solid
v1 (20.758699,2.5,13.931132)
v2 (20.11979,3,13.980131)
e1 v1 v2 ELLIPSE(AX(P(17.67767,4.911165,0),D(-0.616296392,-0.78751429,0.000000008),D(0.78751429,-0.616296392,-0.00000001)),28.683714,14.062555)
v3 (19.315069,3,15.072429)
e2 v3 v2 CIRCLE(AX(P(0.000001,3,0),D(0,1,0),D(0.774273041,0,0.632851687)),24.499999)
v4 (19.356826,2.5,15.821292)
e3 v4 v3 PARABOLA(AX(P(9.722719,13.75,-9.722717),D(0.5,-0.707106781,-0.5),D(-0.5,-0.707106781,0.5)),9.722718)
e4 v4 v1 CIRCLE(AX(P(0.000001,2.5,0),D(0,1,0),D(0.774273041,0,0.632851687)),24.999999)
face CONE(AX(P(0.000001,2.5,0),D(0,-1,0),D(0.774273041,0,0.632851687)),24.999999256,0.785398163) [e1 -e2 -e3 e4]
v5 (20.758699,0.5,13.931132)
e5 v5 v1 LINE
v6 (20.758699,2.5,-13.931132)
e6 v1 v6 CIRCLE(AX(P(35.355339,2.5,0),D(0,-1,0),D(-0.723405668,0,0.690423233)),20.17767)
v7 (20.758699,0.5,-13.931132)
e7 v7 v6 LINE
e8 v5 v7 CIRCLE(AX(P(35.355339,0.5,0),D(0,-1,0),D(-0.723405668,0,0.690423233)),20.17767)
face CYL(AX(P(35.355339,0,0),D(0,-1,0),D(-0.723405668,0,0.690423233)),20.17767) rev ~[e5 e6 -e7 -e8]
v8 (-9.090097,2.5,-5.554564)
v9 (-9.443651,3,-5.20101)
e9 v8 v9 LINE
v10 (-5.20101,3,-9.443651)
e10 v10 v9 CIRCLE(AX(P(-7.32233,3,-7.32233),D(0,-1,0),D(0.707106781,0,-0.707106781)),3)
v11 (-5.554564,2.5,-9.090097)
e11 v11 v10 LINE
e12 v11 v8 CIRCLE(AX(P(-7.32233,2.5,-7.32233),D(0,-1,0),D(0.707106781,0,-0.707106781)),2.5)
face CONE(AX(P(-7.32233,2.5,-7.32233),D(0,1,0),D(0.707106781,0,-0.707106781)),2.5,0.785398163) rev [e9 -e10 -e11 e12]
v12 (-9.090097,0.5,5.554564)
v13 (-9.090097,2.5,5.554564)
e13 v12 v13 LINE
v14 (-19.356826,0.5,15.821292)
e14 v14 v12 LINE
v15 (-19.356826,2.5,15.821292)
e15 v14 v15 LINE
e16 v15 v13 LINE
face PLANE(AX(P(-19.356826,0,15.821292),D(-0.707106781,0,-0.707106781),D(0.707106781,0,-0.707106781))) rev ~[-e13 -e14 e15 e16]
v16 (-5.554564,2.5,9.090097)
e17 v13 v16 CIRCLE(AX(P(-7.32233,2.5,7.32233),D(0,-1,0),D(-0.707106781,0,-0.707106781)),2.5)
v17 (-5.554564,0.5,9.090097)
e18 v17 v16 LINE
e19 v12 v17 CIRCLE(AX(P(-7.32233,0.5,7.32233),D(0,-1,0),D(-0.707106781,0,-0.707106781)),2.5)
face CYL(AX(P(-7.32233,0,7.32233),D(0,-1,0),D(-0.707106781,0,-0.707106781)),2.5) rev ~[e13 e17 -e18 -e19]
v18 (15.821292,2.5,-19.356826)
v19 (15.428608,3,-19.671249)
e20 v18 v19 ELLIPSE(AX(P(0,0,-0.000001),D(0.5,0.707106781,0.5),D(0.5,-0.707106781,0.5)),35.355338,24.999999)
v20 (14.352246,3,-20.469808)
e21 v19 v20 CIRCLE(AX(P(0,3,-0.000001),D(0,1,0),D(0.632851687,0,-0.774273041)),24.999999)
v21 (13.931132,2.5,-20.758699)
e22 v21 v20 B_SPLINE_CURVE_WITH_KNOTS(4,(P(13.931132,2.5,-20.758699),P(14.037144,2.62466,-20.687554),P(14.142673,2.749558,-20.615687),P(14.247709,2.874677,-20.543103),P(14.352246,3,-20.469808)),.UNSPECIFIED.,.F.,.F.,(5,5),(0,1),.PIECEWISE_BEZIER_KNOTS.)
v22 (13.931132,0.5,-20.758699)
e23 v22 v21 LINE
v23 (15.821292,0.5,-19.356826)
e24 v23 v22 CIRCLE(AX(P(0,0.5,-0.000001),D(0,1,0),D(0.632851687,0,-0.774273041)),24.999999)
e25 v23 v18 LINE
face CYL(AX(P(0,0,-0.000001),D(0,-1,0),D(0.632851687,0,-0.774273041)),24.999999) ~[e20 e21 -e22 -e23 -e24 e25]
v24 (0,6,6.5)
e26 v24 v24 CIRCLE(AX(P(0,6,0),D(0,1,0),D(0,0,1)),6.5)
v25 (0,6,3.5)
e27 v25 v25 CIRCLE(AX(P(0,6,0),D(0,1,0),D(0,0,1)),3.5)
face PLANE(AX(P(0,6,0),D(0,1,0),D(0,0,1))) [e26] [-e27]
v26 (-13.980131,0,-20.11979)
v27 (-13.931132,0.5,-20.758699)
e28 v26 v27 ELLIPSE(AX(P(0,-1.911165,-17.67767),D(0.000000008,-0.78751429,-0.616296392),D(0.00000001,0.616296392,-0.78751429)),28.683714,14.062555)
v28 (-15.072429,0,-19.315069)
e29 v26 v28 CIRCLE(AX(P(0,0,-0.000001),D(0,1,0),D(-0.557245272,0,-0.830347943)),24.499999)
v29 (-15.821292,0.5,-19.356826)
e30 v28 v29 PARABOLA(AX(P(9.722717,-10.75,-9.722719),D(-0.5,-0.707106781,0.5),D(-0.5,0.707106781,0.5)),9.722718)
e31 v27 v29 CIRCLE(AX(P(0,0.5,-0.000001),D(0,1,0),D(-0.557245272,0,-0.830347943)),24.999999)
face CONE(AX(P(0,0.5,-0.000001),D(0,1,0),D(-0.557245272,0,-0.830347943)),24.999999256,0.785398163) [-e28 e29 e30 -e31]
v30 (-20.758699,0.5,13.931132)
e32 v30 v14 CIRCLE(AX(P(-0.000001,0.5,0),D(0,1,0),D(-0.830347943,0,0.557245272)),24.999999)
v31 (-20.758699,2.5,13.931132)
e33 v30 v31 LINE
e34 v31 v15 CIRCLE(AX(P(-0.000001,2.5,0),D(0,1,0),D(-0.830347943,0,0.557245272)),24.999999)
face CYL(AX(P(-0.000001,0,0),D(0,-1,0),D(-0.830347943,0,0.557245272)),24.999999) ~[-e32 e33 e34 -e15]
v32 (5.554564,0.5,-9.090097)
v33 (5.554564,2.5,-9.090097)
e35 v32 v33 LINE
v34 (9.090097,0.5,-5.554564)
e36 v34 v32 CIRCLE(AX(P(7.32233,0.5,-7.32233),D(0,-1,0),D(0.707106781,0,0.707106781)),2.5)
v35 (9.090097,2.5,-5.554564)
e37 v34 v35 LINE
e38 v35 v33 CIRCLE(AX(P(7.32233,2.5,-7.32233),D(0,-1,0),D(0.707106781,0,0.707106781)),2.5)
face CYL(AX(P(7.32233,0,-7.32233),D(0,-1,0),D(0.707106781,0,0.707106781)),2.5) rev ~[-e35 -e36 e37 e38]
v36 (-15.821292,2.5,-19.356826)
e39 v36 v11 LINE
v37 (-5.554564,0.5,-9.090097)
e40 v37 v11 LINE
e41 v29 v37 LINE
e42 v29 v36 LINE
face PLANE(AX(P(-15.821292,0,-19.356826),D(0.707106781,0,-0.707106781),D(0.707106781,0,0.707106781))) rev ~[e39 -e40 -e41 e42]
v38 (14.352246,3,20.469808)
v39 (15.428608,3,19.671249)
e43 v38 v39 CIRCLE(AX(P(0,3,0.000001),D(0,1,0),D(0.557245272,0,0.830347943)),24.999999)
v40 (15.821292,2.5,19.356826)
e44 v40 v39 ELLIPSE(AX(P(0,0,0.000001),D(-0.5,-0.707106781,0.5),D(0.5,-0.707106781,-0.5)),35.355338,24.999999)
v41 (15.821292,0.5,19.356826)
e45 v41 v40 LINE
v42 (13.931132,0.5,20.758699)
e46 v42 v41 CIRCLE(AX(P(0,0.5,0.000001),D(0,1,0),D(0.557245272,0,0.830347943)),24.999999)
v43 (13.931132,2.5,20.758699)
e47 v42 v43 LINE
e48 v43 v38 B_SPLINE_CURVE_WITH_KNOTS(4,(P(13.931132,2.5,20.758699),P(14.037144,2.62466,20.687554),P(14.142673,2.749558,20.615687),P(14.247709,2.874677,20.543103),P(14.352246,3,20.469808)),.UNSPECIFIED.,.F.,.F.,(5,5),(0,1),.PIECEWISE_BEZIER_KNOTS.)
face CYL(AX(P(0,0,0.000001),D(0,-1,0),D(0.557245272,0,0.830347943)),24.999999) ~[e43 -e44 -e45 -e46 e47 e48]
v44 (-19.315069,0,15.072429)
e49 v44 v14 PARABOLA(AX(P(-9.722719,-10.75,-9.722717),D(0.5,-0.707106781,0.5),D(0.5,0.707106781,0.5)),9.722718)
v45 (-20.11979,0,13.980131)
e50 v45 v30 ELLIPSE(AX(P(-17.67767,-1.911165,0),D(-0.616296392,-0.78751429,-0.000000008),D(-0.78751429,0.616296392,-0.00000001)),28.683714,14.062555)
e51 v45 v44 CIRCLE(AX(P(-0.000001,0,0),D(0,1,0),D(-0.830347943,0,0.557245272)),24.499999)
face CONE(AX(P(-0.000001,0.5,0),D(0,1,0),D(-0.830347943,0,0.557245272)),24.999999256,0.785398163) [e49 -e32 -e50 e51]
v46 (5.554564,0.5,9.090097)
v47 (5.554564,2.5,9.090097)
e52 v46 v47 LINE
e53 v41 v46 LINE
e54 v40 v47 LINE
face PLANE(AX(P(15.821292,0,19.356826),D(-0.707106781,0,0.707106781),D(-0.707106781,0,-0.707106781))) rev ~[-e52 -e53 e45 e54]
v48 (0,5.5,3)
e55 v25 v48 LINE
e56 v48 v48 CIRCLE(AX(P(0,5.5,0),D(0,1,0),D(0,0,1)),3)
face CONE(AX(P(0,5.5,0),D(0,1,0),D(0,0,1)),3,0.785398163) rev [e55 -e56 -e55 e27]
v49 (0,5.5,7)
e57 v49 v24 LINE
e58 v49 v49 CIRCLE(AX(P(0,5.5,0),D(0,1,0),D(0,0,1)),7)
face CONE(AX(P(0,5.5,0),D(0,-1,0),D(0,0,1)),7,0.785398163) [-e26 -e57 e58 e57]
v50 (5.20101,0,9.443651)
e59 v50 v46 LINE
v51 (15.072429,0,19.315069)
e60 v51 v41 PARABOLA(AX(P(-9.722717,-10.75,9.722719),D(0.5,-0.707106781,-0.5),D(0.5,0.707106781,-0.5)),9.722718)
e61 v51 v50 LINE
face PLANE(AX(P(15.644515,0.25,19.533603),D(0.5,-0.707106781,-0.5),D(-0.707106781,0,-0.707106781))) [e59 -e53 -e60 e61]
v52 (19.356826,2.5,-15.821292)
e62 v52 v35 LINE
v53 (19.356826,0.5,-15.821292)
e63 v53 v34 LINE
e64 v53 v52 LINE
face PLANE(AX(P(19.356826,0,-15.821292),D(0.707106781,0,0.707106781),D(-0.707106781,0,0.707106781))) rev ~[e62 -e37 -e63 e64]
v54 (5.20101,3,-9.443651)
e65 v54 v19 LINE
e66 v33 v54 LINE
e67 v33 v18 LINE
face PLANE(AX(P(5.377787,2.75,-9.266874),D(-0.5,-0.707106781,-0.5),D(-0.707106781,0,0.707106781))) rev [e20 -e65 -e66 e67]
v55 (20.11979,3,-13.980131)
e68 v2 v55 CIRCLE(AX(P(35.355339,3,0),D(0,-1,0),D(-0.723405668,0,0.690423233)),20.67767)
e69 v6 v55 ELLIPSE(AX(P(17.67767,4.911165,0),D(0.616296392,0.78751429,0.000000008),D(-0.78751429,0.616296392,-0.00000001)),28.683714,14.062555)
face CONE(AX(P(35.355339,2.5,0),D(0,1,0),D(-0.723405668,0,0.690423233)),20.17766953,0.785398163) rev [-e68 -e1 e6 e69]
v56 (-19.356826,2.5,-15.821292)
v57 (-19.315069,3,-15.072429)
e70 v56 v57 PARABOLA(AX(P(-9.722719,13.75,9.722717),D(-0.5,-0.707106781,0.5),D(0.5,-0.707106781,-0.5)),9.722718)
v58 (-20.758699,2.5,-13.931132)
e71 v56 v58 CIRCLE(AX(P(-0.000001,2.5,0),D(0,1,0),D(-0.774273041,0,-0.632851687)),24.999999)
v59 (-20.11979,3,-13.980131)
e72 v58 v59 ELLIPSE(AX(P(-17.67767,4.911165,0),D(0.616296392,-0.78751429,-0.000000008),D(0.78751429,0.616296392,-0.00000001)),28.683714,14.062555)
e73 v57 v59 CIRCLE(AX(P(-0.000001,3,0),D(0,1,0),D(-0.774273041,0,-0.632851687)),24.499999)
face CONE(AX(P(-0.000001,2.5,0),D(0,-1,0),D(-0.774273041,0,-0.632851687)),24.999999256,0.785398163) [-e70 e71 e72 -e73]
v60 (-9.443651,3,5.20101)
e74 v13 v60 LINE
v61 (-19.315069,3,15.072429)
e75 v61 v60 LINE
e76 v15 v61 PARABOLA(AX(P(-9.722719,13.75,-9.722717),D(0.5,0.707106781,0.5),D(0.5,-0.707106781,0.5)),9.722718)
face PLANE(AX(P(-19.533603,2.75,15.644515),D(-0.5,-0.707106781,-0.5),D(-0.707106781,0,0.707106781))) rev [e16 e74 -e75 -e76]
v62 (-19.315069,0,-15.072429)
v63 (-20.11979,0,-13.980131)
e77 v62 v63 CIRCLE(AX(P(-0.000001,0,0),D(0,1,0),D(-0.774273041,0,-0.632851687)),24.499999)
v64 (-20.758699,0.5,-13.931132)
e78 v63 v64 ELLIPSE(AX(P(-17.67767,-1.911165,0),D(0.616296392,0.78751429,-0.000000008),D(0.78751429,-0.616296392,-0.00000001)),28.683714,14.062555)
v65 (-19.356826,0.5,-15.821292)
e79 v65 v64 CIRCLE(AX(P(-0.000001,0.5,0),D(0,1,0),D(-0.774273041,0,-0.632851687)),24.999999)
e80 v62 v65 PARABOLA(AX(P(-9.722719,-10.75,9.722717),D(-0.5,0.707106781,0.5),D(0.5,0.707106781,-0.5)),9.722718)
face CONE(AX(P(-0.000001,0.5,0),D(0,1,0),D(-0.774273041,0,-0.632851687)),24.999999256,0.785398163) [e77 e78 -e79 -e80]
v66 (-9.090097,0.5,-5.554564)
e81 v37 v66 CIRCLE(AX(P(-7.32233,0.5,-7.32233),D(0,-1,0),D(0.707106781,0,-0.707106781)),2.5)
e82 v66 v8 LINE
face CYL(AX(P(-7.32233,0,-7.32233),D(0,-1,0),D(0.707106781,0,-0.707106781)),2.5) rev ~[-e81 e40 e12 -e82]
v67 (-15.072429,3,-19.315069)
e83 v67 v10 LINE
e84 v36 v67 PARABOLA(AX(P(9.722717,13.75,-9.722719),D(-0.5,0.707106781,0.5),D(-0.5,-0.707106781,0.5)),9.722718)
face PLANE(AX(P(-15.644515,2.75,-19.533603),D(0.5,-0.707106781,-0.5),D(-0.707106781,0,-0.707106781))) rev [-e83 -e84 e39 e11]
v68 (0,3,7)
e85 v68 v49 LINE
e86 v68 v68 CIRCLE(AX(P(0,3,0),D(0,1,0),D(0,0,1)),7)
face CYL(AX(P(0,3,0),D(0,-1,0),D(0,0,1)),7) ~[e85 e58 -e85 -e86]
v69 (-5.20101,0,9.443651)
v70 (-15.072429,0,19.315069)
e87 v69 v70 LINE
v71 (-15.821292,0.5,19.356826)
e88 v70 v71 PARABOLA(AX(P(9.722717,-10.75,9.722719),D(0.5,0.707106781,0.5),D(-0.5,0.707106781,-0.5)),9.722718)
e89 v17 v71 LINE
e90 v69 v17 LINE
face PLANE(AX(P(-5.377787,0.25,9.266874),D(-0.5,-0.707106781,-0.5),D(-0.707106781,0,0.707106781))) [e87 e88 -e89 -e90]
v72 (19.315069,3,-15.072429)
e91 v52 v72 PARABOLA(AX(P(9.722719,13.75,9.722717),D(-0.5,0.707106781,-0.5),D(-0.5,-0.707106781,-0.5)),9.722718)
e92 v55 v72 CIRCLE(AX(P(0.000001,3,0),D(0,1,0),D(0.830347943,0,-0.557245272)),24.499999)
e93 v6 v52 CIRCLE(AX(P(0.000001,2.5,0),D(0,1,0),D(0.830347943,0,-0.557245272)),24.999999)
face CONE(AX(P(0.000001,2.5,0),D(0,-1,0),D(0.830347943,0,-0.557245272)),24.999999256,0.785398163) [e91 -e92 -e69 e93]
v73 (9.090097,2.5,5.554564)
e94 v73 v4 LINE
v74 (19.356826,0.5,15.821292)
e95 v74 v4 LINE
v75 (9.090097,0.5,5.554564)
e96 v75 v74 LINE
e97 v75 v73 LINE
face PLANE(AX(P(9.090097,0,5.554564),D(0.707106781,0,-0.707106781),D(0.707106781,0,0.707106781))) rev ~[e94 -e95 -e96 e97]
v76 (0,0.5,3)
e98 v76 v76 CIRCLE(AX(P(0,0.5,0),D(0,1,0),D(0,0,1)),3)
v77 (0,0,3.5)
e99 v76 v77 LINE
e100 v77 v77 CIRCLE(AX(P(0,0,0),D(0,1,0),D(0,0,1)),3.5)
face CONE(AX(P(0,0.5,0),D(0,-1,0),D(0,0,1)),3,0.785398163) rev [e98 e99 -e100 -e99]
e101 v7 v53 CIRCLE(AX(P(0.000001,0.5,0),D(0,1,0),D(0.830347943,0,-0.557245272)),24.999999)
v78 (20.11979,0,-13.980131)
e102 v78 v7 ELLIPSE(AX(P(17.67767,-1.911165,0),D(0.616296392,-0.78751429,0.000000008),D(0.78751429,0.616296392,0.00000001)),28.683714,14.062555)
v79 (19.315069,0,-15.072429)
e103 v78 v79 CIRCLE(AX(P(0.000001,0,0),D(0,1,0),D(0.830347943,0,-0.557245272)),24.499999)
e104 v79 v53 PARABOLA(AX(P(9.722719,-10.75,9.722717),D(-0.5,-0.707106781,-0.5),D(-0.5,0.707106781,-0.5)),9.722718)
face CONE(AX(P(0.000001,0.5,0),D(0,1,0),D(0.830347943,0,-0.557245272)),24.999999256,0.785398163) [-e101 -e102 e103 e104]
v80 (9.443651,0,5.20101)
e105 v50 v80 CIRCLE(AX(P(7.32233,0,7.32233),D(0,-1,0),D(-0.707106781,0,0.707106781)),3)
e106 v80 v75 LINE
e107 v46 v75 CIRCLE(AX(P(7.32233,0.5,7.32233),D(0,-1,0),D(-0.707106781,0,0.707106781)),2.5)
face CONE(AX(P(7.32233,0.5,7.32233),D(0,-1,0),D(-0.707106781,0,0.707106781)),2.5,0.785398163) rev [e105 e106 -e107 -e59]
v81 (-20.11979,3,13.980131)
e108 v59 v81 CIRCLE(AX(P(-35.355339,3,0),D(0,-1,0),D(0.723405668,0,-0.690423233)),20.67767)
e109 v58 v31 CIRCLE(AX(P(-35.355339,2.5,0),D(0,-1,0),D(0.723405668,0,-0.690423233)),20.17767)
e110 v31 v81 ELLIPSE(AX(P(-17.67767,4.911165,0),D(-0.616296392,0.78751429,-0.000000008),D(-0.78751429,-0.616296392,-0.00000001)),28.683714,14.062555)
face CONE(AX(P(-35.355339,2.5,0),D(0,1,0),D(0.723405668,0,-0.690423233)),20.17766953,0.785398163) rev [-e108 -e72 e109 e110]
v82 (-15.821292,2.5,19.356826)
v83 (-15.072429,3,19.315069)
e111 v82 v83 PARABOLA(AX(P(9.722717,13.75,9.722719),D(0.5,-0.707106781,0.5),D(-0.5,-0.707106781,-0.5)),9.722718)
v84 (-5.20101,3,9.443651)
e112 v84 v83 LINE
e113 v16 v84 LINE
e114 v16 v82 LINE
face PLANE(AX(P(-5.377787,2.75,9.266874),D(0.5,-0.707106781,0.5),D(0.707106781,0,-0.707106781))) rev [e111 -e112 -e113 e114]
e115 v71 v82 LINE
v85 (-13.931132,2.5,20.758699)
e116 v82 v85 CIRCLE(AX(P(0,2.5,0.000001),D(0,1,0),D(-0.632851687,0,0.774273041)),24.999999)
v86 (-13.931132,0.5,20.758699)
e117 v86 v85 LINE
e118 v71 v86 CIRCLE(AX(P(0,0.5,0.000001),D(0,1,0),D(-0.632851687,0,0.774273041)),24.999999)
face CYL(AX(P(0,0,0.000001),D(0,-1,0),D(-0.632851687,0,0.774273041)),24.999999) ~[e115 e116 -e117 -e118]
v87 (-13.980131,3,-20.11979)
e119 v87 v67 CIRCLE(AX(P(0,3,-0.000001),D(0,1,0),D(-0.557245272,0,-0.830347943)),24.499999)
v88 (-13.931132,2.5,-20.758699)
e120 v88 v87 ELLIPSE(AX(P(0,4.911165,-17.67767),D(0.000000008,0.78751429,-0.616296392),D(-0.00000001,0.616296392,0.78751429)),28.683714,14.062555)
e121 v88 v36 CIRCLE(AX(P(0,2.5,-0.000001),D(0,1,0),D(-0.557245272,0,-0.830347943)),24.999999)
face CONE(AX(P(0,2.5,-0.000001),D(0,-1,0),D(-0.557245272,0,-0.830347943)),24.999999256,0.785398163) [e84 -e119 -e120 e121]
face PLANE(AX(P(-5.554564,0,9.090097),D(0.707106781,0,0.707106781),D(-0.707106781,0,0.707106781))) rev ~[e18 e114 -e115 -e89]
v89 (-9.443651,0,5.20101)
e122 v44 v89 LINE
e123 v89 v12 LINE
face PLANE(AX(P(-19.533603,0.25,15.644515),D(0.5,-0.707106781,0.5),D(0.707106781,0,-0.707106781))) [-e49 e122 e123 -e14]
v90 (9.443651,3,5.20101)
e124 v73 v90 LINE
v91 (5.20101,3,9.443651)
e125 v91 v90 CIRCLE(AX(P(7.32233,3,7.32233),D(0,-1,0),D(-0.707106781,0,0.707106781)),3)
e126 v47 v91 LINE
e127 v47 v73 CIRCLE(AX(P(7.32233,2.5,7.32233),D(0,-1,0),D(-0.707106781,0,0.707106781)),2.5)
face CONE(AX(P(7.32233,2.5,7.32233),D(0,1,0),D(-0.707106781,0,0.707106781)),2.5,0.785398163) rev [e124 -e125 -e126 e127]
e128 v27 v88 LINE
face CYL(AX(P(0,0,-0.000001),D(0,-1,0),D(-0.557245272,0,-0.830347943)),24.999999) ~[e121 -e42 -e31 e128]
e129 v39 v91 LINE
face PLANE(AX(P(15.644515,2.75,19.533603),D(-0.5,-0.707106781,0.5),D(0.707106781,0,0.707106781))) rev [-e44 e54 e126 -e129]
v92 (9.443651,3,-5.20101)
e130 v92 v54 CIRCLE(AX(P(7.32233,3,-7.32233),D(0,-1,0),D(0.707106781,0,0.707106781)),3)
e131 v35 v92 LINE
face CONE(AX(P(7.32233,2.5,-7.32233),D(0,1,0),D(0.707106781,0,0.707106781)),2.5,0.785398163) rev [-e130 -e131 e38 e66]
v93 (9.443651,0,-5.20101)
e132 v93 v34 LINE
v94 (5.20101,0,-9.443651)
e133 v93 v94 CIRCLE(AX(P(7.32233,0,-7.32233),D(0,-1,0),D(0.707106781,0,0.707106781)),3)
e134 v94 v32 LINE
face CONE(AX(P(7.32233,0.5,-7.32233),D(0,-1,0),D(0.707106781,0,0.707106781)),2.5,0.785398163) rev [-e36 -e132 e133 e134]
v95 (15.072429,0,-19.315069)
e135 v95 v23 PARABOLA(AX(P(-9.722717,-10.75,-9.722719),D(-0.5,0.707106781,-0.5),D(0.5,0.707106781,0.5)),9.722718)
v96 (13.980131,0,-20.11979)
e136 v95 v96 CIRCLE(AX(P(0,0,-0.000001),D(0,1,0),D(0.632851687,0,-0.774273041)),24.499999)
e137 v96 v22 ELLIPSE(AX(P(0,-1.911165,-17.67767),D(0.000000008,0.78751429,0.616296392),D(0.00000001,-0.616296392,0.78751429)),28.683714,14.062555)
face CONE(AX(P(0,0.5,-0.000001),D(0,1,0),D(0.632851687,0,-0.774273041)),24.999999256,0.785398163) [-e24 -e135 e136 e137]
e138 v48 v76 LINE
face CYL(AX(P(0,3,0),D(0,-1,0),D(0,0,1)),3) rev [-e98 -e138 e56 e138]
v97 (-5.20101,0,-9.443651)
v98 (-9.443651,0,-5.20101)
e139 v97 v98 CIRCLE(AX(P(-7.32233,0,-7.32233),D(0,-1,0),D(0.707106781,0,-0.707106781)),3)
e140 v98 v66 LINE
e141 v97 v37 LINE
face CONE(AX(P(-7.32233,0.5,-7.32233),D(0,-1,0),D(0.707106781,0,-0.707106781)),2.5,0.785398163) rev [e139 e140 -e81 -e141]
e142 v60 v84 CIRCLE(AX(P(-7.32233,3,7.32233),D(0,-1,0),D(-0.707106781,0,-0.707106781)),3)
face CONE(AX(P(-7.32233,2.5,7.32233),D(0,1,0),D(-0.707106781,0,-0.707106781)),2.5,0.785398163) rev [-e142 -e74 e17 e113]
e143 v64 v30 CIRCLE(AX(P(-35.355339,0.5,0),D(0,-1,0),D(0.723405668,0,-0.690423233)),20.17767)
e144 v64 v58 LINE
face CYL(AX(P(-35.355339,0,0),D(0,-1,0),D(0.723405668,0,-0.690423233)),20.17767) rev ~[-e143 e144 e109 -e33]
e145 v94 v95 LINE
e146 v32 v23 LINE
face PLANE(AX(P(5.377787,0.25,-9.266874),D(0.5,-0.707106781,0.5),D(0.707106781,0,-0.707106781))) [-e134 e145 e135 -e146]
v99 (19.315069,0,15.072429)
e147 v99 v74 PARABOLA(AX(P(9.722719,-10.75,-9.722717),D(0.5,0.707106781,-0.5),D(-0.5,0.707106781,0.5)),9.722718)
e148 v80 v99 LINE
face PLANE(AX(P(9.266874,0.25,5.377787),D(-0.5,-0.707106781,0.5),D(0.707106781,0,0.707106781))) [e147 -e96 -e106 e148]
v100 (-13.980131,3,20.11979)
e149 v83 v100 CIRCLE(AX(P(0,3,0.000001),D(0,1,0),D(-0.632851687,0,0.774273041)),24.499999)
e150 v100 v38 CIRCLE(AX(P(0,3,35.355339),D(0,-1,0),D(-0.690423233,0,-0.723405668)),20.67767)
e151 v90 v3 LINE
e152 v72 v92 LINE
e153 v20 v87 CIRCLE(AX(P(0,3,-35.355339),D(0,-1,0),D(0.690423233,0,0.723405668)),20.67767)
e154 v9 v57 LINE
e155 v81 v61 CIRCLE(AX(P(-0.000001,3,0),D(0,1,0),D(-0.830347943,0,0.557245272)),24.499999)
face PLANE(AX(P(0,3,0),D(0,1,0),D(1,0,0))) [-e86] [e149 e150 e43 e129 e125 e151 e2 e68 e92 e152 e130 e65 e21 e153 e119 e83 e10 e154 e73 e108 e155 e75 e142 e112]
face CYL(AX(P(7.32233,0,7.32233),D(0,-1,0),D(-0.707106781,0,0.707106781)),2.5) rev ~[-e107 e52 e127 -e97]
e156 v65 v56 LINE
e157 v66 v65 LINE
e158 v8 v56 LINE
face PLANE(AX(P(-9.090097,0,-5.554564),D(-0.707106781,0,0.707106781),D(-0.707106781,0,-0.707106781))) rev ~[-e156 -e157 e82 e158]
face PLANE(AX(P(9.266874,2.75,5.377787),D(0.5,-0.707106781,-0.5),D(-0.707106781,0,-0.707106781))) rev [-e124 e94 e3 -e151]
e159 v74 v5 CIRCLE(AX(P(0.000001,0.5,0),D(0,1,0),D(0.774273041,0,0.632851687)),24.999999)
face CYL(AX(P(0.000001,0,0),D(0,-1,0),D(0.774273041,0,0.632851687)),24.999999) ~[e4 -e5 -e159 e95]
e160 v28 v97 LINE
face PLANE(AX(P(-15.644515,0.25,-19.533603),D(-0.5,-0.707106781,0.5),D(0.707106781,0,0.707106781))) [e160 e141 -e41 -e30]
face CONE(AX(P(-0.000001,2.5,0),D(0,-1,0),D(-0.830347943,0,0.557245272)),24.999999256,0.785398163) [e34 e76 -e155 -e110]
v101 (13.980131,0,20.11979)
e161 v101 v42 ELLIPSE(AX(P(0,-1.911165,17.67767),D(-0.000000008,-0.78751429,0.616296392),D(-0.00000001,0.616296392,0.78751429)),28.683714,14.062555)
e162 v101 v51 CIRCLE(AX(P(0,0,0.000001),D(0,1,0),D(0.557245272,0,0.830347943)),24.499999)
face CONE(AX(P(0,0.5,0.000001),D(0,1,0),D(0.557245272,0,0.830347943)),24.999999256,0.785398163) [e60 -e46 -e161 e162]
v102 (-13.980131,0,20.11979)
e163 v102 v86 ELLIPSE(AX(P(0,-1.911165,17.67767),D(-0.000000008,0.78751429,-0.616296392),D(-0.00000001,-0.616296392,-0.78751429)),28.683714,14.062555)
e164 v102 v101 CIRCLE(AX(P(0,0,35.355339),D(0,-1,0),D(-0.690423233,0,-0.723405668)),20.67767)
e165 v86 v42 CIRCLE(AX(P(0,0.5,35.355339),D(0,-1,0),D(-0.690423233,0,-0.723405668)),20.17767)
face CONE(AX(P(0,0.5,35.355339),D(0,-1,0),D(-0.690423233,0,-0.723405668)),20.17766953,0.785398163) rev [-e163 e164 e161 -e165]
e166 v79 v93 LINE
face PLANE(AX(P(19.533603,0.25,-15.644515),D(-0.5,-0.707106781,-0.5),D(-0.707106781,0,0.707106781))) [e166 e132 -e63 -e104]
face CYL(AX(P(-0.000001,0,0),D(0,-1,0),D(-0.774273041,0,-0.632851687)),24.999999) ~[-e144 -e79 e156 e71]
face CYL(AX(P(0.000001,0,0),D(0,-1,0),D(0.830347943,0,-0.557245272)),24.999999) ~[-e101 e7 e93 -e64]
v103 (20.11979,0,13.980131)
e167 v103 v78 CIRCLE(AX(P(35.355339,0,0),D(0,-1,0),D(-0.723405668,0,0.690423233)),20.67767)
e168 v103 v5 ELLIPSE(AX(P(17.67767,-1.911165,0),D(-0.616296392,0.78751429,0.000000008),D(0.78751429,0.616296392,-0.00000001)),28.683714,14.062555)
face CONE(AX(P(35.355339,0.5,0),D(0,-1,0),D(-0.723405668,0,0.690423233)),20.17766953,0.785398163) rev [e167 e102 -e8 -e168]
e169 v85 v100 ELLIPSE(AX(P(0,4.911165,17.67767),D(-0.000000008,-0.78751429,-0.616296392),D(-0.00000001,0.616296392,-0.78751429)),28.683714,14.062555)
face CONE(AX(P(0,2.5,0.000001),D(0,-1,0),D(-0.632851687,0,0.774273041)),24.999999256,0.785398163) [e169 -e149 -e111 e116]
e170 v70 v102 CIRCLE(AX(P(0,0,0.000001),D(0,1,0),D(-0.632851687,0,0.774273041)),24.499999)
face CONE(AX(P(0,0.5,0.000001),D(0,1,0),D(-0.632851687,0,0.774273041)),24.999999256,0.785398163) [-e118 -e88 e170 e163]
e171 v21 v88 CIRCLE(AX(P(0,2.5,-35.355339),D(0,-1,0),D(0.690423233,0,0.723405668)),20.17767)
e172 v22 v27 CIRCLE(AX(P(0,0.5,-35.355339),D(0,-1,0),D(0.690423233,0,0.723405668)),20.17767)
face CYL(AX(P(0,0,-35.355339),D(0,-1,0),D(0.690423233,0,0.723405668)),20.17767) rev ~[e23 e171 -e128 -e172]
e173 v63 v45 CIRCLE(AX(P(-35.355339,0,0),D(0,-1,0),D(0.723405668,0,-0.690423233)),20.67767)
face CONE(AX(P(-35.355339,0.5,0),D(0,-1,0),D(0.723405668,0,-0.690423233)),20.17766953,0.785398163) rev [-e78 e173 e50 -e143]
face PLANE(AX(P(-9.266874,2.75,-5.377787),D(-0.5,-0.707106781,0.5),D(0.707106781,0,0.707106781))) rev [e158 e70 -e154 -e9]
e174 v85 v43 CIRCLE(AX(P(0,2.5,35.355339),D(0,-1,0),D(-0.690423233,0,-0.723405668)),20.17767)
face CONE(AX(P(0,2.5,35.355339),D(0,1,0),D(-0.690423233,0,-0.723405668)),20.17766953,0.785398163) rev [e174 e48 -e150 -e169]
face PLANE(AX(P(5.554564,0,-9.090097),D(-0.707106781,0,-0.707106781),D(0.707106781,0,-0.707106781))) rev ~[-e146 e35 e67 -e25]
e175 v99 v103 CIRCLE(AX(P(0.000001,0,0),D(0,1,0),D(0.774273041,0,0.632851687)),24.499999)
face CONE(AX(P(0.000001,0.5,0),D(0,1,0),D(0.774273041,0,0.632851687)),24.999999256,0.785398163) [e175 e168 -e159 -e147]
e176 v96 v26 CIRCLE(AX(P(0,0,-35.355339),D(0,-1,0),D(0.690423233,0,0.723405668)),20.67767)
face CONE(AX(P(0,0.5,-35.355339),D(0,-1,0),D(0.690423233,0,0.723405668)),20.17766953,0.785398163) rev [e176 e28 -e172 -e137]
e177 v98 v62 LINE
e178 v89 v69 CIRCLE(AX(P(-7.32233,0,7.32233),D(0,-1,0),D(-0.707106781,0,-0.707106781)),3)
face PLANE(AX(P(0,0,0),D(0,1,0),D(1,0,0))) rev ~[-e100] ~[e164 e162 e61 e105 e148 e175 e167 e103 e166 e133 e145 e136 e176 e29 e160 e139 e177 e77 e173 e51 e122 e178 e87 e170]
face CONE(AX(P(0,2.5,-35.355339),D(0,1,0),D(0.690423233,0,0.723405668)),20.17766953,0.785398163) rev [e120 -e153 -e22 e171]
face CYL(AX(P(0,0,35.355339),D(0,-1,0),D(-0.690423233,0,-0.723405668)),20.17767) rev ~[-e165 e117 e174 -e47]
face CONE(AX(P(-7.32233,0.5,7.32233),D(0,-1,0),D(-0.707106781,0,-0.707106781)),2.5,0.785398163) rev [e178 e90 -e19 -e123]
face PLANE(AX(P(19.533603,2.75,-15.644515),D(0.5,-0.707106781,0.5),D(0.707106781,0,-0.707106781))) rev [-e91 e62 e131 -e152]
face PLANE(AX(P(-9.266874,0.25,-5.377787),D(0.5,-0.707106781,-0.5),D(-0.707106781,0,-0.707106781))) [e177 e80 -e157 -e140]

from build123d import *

# Parameters (mm, degrees)
SKETCH1_R           = 3
BOSS_EXTRUDE1_DEPTH = 3
SKETCH2_R           = 7
SKETCH2_R_2         = 3
BOSS_EXTRUDE2_DEPTH = 3
CHAMFER1_SIZE       = 0.5


with BuildPart() as part:
    # Sketch1 → Boss-Extrude1 (new body)
    with BuildSketch(Plane(origin=(0, 0, 0), x_dir=(1, 0, 0), z_dir=(0, 1, 0))):
        with BuildLine():
            ThreePointArc((9.090097423, 5.554563517), (5.554563517, 5.554563517), (5.554563517, 9.090097423))
            Line((5.554563517, 9.090097423), (15.821292146, 19.356826052))
            ThreePointArc((15.821292146, 19.356826052), (14.892716162, 20.080015073), (13.931131824, 20.758698564))
            ThreePointArc((13.931131824, 20.758698564), (0, 15.17766953), (-13.931131824, 20.758698564))
            ThreePointArc((-13.931131824, 20.758698564), (-14.892716162, 20.080015073), (-15.821292146, 19.356826052))
            Line((-15.821292146, 19.356826052), (-5.554563517, 9.090097423))
            ThreePointArc((-5.554563517, 9.090097423), (-5.554563517, 5.554563517), (-9.090097423, 5.554563517))
            Line((-9.090097423, 5.554563517), (-19.356826052, 15.821292146))
            ThreePointArc((-19.356826052, 15.821292146), (-20.080015073, 14.892716162), (-20.758698564, 13.931131824))
            ThreePointArc((-20.758698564, 13.931131824), (-15.17766953, 0), (-20.758698564, -13.931131824))
            ThreePointArc((-20.758698564, -13.931131824), (-20.080015073, -14.892716162), (-19.356826052, -15.821292146))
            Line((-19.356826052, -15.821292146), (-9.090097423, -5.554563517))
            ThreePointArc((-9.090097423, -5.554563517), (-5.554563517, -5.554563517), (-5.554563517, -9.090097423))
            Line((-5.554563517, -9.090097423), (-15.821292146, -19.356826052))
            ThreePointArc((-15.821292146, -19.356826052), (-14.892716162, -20.080015073), (-13.931131824, -20.758698564))
            ThreePointArc((-13.931131824, -20.758698564), (0, -15.17766953), (13.931131824, -20.758698564))
            ThreePointArc((13.931131824, -20.758698564), (14.892716162, -20.080015073), (15.821292146, -19.356826052))
            Line((15.821292146, -19.356826052), (5.554563517, -9.090097423))
            ThreePointArc((5.554563517, -9.090097423), (5.554563517, -5.554563517), (9.090097423, -5.554563517))
            Line((9.090097423, -5.554563517), (19.356826052, -15.821292146))
            ThreePointArc((19.356826052, -15.821292146), (20.080015073, -14.892716162), (20.758698564, -13.931131824))
            ThreePointArc((20.758698564, -13.931131824), (15.17766953, 0), (20.758698564, 13.931131824))
            ThreePointArc((20.758698564, 13.931131824), (20.080015073, 14.892716162), (19.356826052, 15.821292146))
            Line((19.356826052, 15.821292146), (9.090097423, 5.554563517))
        make_face()
        with Locations(Location((0, 0, 0), (0, 0, 270))):
            Circle(SKETCH1_R, mode=Mode.SUBTRACT)
    extrude(amount=BOSS_EXTRUDE1_DEPTH)

    # Sketch2 → Boss-Extrude2 (add)
    with BuildSketch(Plane(origin=(0, 3, 0), x_dir=(1, 0, 0), z_dir=(0, 1, 0))):
        with Locations(Location((0, 0, 0), (0, 0, 270))):
            Circle(SKETCH2_R)
        with Locations(Location((0, 0, 0), (0, 0, 270))):
            Circle(SKETCH2_R_2, mode=Mode.SUBTRACT)
    extrude(amount=BOSS_EXTRUDE2_DEPTH)

    # Chamfer1
    chamfer1_edges = [part.edges().sort_by_distance(p)[0] for p in [
        (0, 6, -7),
        (10.687927832, 3, 14.223461738),
        (5.554563517, 3, 5.554563517),
        (14.223461738, 3, 10.687927832),
        (20.080015073, 3, 14.892716162),
        (15.17766953, 3, 0),
        (20.080015073, 3, -14.892716162),
        (14.223461738, 3, -10.687927832),
        (5.554563517, 3, -5.554563517),
        (10.687927832, 3, -14.223461738),
        (0, 3, 15.17766953),
        (-14.892716162, 3, 20.080015073),
        (-10.687927832, 3, 14.223461738),
        (-5.554563517, 3, 5.554563517),
        (-14.223461738, 3, 10.687927832),
        (-20.080015073, 3, 14.892716162),
        (-15.17766953, 3, 0),
        (-20.080015073, 3, -14.892716162),
        (0, 3, -15.17766953),
        (-14.892716162, 3, -20.080015073),
        (-10.687927832, 3, -14.223461738),
        (-5.554563517, 3, -5.554563517),
        (-14.223461738, 3, -10.687927832),
        (0, 6, -3),
        (0, 0, -3),
        (20.080015073, 0, 14.892716162),
        (14.223461738, 0, 10.687927832),
        (5.554563517, 0, 5.554563517),
        (10.687927832, 0, 14.223461738),
        (14.892716162, 0, 20.080015073),
        (0, 0, 15.17766953),
        (-14.892716162, 0, 20.080015073),
        (-10.687927832, 0, 14.223461738),
        (-5.554563517, 0, 5.554563517),
        (-14.223461738, 0, 10.687927832),
        (-20.080015073, 0, 14.892716162),
        (-15.17766953, 0, 0),
        (-20.080015073, 0, -14.892716162),
        (-14.223461738, 0, -10.687927832),
        (-5.554563517, 0, -5.554563517),
        (-10.687927832, 0, -14.223461738),
        (-14.892716162, 0, -20.080015073),
        (0, 0, -15.17766953),
        (14.892716162, 0, -20.080015073),
        (10.687927832, 0, -14.223461738),
        (5.554563517, 0, -5.554563517),
        (14.223461738, 0, -10.687927832),
        (20.080015073, 0, -14.892716162),
        (15.17766953, 0, 0),
    ]]
    chamfer(chamfer1_edges, length=CHAMFER1_SIZE)


solid = part.part
